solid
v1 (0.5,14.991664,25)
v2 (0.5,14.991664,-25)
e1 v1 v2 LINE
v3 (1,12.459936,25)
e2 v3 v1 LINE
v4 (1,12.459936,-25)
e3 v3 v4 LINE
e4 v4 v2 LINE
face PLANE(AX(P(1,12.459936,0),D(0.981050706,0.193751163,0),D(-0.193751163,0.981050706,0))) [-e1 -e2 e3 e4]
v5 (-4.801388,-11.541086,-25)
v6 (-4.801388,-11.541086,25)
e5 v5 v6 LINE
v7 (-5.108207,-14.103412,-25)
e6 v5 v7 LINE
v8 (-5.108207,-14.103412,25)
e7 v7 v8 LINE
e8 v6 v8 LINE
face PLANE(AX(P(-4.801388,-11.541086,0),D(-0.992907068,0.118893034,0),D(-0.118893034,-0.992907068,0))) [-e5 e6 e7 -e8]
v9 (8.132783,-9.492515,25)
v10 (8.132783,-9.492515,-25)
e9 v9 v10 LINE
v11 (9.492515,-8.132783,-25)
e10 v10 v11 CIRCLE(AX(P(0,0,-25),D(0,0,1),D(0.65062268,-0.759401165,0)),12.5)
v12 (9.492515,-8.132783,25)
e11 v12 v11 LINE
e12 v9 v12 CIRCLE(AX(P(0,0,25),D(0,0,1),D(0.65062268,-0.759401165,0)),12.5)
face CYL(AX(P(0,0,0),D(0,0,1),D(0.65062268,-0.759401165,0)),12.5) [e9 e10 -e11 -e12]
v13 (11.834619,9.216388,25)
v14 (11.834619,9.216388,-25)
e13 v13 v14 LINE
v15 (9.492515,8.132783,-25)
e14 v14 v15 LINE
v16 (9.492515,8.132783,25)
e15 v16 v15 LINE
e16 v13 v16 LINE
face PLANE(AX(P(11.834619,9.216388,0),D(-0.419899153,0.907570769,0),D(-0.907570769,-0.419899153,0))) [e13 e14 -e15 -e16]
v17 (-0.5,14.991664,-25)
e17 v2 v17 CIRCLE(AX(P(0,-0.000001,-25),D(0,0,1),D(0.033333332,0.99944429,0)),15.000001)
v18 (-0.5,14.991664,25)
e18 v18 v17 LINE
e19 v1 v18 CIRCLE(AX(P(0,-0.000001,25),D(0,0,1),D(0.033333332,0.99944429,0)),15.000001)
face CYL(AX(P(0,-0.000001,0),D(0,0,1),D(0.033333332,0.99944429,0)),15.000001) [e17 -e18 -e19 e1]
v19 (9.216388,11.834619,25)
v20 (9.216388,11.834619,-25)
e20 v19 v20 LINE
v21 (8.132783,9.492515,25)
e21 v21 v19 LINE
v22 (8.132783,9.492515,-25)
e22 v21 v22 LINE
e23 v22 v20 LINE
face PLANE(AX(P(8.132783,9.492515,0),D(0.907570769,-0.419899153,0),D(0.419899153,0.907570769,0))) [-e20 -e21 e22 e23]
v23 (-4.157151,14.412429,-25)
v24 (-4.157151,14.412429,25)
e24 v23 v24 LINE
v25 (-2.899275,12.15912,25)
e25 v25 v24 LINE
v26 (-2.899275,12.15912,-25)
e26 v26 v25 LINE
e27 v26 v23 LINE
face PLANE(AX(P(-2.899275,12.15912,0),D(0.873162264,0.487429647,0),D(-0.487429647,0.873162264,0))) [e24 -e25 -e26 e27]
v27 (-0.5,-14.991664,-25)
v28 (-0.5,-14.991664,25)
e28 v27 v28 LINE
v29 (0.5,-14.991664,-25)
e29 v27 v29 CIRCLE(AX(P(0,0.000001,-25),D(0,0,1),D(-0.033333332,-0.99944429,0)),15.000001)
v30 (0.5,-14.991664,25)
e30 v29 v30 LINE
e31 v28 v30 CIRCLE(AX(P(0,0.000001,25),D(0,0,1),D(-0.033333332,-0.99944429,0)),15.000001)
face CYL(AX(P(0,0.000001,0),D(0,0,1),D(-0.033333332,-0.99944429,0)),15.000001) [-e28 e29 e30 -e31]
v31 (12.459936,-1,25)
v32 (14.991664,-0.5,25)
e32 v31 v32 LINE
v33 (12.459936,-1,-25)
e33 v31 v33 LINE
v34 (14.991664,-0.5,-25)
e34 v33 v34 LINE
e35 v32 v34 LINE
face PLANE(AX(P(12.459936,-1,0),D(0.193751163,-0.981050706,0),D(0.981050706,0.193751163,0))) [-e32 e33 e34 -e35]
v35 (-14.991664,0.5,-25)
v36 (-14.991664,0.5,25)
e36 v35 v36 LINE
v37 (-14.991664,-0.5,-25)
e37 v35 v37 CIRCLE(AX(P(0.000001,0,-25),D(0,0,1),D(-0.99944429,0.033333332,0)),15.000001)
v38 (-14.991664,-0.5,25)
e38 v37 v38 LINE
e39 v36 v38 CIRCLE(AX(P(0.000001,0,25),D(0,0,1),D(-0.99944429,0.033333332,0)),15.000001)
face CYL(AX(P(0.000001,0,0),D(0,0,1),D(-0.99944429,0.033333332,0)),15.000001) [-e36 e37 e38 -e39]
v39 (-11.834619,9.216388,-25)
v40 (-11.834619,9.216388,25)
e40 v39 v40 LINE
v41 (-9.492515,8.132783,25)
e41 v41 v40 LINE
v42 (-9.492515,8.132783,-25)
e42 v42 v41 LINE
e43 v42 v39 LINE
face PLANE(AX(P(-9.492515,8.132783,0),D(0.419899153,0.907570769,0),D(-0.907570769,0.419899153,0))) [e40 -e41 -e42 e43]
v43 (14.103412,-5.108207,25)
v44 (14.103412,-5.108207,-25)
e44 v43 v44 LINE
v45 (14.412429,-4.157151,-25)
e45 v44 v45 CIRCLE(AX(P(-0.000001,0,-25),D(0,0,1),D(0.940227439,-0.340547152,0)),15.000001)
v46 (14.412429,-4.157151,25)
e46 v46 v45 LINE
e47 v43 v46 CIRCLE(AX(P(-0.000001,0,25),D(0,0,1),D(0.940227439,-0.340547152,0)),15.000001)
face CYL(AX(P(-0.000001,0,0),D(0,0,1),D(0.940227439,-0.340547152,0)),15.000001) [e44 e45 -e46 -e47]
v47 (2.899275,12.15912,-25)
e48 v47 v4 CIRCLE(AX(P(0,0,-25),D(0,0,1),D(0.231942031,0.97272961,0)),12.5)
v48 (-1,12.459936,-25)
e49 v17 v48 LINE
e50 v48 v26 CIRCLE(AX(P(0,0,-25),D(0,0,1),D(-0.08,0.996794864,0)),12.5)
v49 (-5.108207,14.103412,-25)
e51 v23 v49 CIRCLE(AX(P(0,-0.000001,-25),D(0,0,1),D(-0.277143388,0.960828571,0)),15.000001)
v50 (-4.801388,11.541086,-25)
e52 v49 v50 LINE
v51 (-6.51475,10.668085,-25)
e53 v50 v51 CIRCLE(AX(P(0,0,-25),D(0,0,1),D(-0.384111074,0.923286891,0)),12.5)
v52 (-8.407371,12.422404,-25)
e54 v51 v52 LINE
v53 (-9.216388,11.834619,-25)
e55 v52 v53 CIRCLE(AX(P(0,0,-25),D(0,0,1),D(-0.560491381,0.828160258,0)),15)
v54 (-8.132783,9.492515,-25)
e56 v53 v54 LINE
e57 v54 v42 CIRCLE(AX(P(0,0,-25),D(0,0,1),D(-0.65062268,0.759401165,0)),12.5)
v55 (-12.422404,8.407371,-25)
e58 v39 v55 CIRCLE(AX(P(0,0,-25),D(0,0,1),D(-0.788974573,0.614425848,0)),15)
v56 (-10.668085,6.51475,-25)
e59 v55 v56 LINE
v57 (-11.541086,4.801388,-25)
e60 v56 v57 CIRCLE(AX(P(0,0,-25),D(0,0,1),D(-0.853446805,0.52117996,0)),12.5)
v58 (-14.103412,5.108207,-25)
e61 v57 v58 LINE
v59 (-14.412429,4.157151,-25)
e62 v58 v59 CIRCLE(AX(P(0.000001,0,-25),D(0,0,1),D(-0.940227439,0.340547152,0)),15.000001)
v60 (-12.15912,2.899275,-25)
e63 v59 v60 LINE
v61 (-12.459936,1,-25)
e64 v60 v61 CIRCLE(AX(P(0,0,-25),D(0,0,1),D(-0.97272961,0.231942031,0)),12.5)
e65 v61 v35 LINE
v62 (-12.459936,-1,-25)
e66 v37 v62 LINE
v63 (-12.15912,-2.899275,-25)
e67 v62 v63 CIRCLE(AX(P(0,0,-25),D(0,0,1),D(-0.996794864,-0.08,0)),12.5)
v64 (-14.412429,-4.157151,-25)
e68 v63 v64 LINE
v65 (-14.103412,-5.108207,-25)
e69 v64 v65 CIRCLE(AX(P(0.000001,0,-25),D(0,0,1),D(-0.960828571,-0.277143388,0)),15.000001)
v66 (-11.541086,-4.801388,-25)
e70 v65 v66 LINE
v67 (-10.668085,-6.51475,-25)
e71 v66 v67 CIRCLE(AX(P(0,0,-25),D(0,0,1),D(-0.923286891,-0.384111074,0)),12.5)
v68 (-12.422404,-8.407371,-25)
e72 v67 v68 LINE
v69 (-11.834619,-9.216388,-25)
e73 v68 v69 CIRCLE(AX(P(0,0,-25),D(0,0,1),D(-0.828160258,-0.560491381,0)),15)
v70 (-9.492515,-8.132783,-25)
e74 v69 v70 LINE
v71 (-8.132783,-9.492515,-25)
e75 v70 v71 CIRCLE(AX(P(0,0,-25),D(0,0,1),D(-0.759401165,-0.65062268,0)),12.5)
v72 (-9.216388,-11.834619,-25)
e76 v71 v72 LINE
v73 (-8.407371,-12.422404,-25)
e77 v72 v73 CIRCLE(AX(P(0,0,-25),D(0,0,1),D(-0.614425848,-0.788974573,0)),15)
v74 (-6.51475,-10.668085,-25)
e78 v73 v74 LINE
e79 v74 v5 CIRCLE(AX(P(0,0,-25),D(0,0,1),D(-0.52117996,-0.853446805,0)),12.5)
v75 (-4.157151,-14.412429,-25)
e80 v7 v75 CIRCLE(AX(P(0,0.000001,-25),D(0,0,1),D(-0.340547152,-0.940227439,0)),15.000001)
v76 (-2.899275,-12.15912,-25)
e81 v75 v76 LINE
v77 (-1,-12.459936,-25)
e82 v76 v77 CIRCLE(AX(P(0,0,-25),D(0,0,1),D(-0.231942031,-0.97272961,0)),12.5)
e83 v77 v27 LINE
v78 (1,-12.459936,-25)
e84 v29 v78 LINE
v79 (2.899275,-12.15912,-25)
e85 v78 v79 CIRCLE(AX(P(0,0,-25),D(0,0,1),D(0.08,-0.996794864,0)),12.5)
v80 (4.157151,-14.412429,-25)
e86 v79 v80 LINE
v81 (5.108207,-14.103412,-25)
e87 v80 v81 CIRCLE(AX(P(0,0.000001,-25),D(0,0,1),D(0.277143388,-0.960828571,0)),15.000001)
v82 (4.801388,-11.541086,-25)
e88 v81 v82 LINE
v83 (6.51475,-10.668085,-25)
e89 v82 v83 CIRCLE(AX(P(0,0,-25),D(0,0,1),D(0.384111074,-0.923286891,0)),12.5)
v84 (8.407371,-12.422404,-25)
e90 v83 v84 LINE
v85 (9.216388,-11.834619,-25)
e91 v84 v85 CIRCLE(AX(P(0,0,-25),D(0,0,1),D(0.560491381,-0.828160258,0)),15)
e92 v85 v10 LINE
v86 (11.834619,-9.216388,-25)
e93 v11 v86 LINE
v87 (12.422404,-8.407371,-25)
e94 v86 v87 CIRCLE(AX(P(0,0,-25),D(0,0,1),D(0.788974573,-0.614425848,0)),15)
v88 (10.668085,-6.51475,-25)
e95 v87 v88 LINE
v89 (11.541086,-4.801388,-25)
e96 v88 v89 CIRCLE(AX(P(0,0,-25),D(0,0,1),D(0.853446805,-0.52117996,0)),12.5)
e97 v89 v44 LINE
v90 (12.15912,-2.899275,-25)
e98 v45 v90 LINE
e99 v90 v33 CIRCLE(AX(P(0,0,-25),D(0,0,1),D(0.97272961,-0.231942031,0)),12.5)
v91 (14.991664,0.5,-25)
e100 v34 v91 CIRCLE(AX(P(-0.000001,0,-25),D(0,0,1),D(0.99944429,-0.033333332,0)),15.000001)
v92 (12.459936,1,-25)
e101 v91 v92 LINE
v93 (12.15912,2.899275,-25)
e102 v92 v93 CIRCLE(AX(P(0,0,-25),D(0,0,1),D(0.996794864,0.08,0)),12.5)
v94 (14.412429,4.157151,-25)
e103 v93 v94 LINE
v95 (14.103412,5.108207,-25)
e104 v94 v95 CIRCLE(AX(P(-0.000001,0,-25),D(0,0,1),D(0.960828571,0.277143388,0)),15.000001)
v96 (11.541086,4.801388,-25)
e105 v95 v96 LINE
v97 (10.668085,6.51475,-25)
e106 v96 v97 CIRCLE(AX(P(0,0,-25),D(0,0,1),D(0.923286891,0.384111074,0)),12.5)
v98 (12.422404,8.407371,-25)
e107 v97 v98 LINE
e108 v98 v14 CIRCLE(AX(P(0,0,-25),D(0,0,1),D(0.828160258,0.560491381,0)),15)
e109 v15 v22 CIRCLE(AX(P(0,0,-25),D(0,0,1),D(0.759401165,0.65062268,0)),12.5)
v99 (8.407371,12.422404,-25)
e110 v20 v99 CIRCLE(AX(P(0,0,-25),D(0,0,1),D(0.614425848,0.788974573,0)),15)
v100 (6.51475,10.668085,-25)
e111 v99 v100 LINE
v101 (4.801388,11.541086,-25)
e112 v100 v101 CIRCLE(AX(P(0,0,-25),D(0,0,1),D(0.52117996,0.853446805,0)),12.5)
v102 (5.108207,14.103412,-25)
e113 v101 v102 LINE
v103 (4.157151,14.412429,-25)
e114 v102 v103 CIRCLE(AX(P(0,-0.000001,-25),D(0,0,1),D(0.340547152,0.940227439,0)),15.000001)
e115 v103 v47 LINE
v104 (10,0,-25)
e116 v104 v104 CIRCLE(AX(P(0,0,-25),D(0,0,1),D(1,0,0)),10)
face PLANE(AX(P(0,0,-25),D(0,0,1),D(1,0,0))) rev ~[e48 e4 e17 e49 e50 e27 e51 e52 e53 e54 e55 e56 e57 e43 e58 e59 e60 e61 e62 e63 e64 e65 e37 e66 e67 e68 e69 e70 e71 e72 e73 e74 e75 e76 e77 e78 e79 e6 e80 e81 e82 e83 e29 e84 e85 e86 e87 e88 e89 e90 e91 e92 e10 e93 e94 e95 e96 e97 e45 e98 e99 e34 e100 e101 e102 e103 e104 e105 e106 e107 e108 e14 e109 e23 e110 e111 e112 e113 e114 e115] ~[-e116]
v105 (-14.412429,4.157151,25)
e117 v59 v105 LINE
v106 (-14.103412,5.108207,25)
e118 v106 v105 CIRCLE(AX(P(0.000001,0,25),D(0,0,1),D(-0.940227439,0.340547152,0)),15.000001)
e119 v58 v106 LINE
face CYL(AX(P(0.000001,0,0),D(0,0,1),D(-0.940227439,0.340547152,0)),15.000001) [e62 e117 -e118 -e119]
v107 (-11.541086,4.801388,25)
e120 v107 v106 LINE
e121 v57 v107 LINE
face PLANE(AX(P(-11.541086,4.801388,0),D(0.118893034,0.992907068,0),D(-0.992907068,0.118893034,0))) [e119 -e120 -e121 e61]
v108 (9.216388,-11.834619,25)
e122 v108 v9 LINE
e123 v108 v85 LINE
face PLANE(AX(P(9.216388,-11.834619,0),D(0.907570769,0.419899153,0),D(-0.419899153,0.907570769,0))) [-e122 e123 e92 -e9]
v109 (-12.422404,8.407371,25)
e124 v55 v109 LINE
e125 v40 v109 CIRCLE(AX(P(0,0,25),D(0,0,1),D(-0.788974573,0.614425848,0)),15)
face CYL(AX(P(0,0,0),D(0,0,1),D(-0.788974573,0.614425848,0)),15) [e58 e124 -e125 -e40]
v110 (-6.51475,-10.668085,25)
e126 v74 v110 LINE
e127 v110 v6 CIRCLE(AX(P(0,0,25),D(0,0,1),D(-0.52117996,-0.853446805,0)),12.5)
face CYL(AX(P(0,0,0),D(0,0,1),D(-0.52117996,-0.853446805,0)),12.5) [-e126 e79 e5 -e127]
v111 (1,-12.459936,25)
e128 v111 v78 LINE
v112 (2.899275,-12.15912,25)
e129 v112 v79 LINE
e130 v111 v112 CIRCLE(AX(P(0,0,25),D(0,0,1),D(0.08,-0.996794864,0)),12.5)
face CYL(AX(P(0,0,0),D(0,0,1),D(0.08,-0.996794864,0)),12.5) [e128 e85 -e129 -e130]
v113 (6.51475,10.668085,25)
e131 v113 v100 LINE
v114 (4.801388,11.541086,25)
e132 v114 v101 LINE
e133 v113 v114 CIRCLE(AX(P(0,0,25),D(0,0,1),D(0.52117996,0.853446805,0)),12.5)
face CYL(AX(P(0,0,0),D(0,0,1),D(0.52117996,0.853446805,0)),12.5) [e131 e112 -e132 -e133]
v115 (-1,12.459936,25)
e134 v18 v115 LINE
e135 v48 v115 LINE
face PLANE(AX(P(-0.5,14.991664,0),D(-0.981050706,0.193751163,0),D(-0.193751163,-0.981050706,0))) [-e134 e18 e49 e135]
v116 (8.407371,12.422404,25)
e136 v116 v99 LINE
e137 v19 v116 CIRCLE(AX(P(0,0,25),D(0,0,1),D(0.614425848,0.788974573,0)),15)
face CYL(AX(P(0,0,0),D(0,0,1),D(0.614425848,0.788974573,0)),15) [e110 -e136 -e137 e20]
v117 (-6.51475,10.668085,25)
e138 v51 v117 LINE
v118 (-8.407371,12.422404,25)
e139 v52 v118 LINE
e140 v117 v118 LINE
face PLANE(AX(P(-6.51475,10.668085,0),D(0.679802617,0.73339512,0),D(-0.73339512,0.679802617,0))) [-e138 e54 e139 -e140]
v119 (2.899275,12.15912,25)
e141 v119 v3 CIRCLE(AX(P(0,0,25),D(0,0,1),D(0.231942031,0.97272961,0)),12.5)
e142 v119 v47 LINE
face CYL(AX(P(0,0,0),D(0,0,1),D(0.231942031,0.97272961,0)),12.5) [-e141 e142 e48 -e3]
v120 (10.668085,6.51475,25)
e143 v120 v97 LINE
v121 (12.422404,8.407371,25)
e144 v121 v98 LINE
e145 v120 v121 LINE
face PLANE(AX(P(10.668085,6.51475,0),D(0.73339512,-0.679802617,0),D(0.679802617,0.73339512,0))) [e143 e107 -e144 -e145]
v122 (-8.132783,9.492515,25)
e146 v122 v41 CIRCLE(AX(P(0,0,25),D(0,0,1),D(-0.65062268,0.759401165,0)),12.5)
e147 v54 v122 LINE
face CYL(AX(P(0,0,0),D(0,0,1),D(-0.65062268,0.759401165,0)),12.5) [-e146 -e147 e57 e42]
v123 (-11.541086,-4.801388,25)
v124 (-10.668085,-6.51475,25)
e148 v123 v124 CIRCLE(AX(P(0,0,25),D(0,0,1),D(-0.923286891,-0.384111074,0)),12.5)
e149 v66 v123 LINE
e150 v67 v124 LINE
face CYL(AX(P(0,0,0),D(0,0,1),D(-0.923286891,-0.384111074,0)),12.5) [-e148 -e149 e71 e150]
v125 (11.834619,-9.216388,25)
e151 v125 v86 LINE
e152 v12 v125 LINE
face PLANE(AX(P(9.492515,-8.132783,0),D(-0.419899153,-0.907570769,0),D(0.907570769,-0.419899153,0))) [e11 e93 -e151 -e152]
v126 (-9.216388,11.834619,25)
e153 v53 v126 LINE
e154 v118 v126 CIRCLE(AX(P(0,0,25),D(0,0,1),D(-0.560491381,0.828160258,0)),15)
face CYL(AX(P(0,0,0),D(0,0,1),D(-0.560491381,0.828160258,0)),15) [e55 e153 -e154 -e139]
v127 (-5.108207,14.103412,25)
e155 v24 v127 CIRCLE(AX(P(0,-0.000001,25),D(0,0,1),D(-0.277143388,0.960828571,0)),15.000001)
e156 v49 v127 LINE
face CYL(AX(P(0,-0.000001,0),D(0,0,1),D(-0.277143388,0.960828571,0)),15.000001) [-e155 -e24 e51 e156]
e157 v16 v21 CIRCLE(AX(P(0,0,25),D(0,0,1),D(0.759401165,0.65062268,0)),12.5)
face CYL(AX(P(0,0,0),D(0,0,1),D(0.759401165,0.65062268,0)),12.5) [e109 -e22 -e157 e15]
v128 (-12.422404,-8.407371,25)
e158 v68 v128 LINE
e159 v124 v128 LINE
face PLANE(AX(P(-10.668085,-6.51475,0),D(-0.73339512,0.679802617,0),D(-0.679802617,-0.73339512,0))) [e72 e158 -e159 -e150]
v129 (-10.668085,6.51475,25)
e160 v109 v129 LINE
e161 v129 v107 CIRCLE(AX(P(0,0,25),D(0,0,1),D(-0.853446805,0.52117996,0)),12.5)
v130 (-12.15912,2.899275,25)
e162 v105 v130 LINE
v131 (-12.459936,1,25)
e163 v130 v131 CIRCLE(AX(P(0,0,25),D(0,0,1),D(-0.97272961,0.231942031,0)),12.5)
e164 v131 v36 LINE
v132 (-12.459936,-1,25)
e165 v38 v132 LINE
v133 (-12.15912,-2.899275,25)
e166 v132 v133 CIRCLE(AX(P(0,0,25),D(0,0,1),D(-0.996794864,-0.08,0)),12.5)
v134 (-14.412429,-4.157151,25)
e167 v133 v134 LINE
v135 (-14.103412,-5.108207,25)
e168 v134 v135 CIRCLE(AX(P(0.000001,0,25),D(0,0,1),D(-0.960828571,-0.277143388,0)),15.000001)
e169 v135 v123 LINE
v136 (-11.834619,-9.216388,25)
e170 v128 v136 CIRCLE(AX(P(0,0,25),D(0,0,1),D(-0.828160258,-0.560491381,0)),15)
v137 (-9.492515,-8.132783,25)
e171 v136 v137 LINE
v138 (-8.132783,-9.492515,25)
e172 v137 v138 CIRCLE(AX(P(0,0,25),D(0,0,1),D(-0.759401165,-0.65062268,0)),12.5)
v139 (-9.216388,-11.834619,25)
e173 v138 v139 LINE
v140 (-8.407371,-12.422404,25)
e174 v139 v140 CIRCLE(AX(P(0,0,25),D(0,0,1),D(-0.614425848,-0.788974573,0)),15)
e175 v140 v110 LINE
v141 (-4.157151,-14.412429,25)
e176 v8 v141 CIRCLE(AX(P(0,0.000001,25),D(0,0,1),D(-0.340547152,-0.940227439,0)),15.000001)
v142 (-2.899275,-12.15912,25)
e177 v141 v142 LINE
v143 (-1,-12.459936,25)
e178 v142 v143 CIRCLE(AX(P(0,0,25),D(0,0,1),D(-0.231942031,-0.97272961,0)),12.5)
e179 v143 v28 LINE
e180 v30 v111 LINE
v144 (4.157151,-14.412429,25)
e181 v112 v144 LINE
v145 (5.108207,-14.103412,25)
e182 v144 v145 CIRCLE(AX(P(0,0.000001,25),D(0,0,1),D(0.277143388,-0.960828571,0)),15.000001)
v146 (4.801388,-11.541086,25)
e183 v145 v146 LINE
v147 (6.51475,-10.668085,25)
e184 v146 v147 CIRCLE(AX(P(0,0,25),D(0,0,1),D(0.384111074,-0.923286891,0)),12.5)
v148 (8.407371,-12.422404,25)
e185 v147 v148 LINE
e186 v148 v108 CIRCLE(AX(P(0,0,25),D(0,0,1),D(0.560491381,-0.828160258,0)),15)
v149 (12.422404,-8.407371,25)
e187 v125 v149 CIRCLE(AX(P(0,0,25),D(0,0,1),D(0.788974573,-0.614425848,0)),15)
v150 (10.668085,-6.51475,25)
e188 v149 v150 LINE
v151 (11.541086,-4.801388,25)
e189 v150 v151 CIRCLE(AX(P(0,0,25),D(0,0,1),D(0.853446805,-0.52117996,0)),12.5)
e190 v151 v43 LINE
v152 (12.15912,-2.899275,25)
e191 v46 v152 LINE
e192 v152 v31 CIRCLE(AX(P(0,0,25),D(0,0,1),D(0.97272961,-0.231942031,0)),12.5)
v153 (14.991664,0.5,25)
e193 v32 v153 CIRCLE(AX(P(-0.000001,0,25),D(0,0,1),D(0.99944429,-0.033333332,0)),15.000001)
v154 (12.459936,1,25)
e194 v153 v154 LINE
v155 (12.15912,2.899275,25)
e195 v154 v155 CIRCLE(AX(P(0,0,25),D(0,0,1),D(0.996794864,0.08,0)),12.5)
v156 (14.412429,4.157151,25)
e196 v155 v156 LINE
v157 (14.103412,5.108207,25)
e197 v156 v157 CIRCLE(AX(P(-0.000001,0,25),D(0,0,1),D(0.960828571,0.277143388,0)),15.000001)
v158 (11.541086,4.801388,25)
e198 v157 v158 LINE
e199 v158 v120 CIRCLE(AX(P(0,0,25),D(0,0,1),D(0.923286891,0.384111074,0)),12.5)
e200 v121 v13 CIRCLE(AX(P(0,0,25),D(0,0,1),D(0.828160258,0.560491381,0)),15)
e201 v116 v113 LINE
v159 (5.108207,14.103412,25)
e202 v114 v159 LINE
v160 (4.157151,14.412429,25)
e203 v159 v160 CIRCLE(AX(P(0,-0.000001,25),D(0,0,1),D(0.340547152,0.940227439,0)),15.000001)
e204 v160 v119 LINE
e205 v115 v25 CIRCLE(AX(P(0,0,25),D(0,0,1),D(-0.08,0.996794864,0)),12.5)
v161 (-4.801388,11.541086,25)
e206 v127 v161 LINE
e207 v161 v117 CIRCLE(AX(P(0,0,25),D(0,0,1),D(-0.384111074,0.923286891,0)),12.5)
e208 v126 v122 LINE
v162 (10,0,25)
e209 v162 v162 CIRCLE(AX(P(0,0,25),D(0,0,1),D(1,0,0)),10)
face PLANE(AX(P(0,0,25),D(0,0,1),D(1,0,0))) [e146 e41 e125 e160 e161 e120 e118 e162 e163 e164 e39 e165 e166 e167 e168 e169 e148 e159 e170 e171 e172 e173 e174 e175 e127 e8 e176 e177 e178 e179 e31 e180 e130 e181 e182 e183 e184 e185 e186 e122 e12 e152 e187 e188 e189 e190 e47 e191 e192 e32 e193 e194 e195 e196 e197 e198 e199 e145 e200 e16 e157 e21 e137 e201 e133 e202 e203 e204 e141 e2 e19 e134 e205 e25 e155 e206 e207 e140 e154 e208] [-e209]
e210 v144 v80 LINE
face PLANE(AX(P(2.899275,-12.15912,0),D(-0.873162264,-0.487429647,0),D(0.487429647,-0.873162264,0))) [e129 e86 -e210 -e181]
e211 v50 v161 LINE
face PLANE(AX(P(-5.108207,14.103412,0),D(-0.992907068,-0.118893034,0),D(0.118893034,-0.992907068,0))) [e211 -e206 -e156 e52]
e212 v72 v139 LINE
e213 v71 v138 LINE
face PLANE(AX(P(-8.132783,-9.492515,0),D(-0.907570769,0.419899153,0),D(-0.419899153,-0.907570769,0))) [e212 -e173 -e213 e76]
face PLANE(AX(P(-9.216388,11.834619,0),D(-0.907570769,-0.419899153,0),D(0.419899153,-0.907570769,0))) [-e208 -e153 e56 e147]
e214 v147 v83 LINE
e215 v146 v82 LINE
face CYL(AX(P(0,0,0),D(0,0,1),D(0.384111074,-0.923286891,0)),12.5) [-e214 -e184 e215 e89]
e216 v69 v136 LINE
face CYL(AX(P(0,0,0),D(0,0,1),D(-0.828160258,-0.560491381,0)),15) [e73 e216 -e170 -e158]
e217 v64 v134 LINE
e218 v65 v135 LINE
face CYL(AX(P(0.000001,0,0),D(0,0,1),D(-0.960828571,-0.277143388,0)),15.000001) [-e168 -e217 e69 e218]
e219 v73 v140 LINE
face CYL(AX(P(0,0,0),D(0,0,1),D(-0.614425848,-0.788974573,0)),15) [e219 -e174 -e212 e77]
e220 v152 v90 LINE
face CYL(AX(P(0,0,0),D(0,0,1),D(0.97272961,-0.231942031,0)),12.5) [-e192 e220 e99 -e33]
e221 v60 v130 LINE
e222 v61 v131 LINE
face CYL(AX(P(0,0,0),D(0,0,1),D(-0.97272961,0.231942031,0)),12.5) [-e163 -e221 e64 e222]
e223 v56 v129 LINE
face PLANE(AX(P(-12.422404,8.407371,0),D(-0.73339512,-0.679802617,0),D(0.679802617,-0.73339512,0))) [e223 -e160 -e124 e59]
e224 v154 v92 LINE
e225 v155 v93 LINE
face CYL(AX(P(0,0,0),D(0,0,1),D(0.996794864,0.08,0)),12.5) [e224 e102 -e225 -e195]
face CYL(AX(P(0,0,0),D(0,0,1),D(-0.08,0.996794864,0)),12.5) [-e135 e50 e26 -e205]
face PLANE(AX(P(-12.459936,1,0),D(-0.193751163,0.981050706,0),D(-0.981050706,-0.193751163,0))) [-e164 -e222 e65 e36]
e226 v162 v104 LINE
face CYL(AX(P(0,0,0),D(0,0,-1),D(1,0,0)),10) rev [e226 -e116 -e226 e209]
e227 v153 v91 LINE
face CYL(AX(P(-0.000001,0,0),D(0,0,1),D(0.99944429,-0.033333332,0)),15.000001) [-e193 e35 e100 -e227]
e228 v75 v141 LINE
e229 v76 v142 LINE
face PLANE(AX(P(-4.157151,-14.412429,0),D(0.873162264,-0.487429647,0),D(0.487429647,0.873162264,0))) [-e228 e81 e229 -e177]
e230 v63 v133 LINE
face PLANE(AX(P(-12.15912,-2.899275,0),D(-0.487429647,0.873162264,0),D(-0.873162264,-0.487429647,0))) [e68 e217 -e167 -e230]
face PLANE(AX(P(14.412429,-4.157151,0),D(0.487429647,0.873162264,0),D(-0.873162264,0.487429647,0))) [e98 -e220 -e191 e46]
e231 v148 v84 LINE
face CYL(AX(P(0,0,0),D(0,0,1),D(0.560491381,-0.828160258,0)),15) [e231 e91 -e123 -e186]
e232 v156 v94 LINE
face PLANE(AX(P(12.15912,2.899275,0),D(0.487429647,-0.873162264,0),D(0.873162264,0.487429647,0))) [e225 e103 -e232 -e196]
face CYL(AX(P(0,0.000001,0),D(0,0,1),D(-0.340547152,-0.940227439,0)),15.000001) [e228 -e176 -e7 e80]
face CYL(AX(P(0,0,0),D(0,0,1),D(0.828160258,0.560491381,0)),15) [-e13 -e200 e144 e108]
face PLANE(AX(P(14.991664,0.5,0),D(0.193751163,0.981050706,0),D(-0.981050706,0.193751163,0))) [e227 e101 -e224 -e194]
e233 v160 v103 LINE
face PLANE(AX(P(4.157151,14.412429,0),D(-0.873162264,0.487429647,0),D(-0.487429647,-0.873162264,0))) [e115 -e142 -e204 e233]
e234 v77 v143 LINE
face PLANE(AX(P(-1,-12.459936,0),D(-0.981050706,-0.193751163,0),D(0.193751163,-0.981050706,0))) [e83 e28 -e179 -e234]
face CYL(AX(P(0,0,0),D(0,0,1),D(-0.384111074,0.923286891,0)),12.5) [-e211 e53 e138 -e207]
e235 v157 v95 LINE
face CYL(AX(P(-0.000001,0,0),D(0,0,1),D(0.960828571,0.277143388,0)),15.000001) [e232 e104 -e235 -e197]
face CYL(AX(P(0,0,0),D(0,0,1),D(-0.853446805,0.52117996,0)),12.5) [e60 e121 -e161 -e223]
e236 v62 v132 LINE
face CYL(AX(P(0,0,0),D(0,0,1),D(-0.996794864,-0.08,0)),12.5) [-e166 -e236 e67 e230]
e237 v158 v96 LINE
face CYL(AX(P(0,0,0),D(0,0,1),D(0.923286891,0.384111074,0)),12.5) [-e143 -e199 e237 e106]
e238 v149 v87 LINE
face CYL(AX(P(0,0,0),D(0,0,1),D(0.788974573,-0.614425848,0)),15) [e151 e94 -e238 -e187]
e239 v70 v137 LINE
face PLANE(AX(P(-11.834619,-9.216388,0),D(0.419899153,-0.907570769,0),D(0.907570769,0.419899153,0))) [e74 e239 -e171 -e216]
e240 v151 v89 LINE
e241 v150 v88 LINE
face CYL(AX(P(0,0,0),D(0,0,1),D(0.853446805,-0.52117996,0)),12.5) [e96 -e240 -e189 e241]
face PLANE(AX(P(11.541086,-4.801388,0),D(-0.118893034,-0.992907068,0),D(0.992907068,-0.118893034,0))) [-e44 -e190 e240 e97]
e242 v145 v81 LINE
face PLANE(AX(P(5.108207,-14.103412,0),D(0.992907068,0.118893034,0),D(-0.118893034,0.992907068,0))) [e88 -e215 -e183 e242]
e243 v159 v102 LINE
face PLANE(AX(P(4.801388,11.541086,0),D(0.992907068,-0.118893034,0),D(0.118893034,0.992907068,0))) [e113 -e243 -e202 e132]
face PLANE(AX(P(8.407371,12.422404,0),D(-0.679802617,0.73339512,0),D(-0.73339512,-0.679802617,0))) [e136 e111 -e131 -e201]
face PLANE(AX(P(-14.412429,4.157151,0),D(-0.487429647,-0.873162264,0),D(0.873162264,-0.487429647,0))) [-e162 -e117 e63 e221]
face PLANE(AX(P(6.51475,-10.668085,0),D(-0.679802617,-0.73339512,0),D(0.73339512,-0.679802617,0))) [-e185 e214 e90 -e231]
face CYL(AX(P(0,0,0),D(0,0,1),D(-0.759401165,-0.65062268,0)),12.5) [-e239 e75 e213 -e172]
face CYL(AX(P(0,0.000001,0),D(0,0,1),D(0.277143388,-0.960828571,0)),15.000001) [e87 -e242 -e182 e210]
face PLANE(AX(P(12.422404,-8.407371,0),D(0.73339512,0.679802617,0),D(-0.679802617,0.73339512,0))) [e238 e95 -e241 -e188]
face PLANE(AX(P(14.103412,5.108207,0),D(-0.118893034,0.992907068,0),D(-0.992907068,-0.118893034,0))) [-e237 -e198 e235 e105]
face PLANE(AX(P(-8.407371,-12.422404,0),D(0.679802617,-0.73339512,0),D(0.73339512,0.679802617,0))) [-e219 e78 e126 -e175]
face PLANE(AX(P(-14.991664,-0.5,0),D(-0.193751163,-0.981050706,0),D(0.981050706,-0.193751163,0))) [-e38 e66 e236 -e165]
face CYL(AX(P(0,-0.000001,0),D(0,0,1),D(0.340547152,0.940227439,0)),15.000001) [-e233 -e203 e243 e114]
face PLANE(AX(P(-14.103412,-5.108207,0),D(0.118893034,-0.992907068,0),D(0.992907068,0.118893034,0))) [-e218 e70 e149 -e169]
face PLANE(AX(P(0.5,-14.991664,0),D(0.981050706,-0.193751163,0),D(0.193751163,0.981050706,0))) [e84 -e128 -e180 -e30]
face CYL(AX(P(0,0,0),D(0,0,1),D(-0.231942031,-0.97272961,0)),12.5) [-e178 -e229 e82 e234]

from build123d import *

# Parameters (mm, degrees)
SKETCH1_R           = 10
BOSS_EXTRUDE1_DEPTH = 25


with BuildPart() as part:
    # Sketch1 → Boss-Extrude1 (new, symmetric)
    with BuildSketch(Plane.XY):
        with BuildLine():
            Line((-0.5, 14.991664351), (-1, 12.459935794))
            ThreePointArc((-1, 12.459935794), (-1.955430813, 12.346104257), (-2.899275393, 12.159120124))
            Line((-2.899275393, 12.159120124), (-4.1571508, 14.412428568))
            ThreePointArc((-4.1571508, 14.412428568), (-4.635254916, 14.265847744), (-5.108207316, 14.103411574))
            Line((-5.108207316, 14.103411574), (-4.801388426, 11.541086135))
            ThreePointArc((-4.801388426, 11.541086135), (-5.674881247, 11.137581552), (-6.51474951, 10.668085059))
            Line((-6.51474951, 10.668085059), (-8.407370715, 12.42240386))
            ThreePointArc((-8.407370715, 12.42240386), (-8.816778784, 12.135254916), (-9.21638771, 11.834618607))
            Line((-9.21638771, 11.834618607), (-8.132783499, 9.492514554))
            ThreePointArc((-8.132783499, 9.492514554), (-8.838834765, 8.838834765), (-9.492514554, 8.132783499))
            Line((-9.492514554, 8.132783499), (-11.834618607, 9.21638771))
            ThreePointArc((-11.834618607, 9.21638771), (-12.135254916, 8.816778784), (-12.42240386, 8.407370715))
            Line((-12.42240386, 8.407370715), (-10.668085059, 6.51474951))
            ThreePointArc((-10.668085059, 6.51474951), (-11.137581552, 5.674881247), (-11.541086135, 4.801388426))
            Line((-11.541086135, 4.801388426), (-14.103411574, 5.108207316))
            ThreePointArc((-14.103411574, 5.108207316), (-14.265847744, 4.635254916), (-14.412428568, 4.1571508))
            Line((-14.412428568, 4.1571508), (-12.159120124, 2.899275393))
            ThreePointArc((-12.159120124, 2.899275393), (-12.346104257, 1.955430813), (-12.459935794, 1))
            Line((-12.459935794, 1), (-14.991664351, 0.5))
            ThreePointArc((-14.991664351, 0.5), (-15, 0), (-14.991664351, -0.5))
            Line((-14.991664351, -0.5), (-12.459935794, -1))
            ThreePointArc((-12.459935794, -1), (-12.346104257, -1.955430813), (-12.159120124, -2.899275393))
            Line((-12.159120124, -2.899275393), (-14.412428568, -4.1571508))
            ThreePointArc((-14.412428568, -4.1571508), (-14.265847744, -4.635254916), (-14.103411574, -5.108207316))
            Line((-14.103411574, -5.108207316), (-11.541086135, -4.801388426))
            ThreePointArc((-11.541086135, -4.801388426), (-11.137581552, -5.674881247), (-10.668085059, -6.51474951))
            Line((-10.668085059, -6.51474951), (-12.42240386, -8.407370715))
            ThreePointArc((-12.42240386, -8.407370715), (-12.135254916, -8.816778784), (-11.834618607, -9.21638771))
            Line((-11.834618607, -9.21638771), (-9.492514554, -8.132783499))
            ThreePointArc((-9.492514554, -8.132783499), (-8.838834765, -8.838834765), (-8.132783499, -9.492514554))
            Line((-8.132783499, -9.492514554), (-9.21638771, -11.834618607))
            ThreePointArc((-9.21638771, -11.834618607), (-8.816778784, -12.135254916), (-8.407370715, -12.42240386))
            Line((-8.407370715, -12.42240386), (-6.51474951, -10.668085059))
            ThreePointArc((-6.51474951, -10.668085059), (-5.674881247, -11.137581552), (-4.801388426, -11.541086135))
            Line((-4.801388426, -11.541086135), (-5.108207316, -14.103411574))
            ThreePointArc((-5.108207316, -14.103411574), (-4.635254916, -14.265847744), (-4.1571508, -14.412428568))
            Line((-4.1571508, -14.412428568), (-2.899275393, -12.159120124))
            ThreePointArc((-2.899275393, -12.159120124), (-1.955430813, -12.346104257), (-1, -12.459935794))
            Line((-1, -12.459935794), (-0.5, -14.991664351))
            ThreePointArc((-0.5, -14.991664351), (0, -15), (0.5, -14.991664351))
            Line((0.5, -14.991664351), (1, -12.459935794))
            ThreePointArc((1, -12.459935794), (1.955430813, -12.346104257), (2.899275393, -12.159120124))
            Line((2.899275393, -12.159120124), (4.1571508, -14.412428568))
            ThreePointArc((4.1571508, -14.412428568), (4.635254916, -14.265847744), (5.108207316, -14.103411574))
            Line((5.108207316, -14.103411574), (4.801388426, -11.541086135))
            ThreePointArc((4.801388426, -11.541086135), (5.674881247, -11.137581552), (6.51474951, -10.668085059))
            Line((6.51474951, -10.668085059), (8.407370715, -12.42240386))
            ThreePointArc((8.407370715, -12.42240386), (8.816778784, -12.135254916), (9.21638771, -11.834618607))
            Line((9.21638771, -11.834618607), (8.132783499, -9.492514554))
            ThreePointArc((8.132783499, -9.492514554), (8.838834765, -8.838834765), (9.492514554, -8.132783499))
            Line((9.492514554, -8.132783499), (11.834618607, -9.21638771))
            ThreePointArc((11.834618607, -9.21638771), (12.135254916, -8.816778784), (12.42240386, -8.407370715))
            Line((12.42240386, -8.407370715), (10.668085059, -6.51474951))
            ThreePointArc((10.668085059, -6.51474951), (11.137581552, -5.674881247), (11.541086135, -4.801388426))
            Line((11.541086135, -4.801388426), (14.103411574, -5.108207316))
            ThreePointArc((14.103411574, -5.108207316), (14.265847744, -4.635254916), (14.412428568, -4.1571508))
            Line((14.412428568, -4.1571508), (12.159120124, -2.899275393))
            ThreePointArc((12.159120124, -2.899275393), (12.346104257, -1.955430813), (12.459935794, -1))
            Line((12.459935794, -1), (14.991664351, -0.5))
            ThreePointArc((14.991664351, -0.5), (15, 0), (14.991664351, 0.5))
            Line((14.991664351, 0.5), (12.459935794, 1))
            ThreePointArc((12.459935794, 1), (12.346104257, 1.955430813), (12.159120124, 2.899275393))
            Line((12.159120124, 2.899275393), (14.412428568, 4.1571508))
            ThreePointArc((14.412428568, 4.1571508), (14.265847744, 4.635254916), (14.103411574, 5.108207316))
            Line((14.103411574, 5.108207316), (11.541086135, 4.801388426))
            ThreePointArc((11.541086135, 4.801388426), (11.137581552, 5.674881247), (10.668085059, 6.51474951))
            Line((10.668085059, 6.51474951), (12.42240386, 8.407370715))
            ThreePointArc((12.42240386, 8.407370715), (12.135254916, 8.816778784), (11.834618607, 9.21638771))
            Line((11.834618607, 9.21638771), (9.492514554, 8.132783499))
            ThreePointArc((9.492514554, 8.132783499), (8.838834765, 8.838834765), (8.132783499, 9.492514554))
            Line((8.132783499, 9.492514554), (9.21638771, 11.834618607))
            ThreePointArc((9.21638771, 11.834618607), (8.816778784, 12.135254916), (8.407370715, 12.42240386))
            Line((8.407370715, 12.42240386), (6.51474951, 10.668085059))
            ThreePointArc((6.51474951, 10.668085059), (5.674881247, 11.137581552), (4.801388426, 11.541086135))
            Line((4.801388426, 11.541086135), (5.108207316, 14.103411574))
            ThreePointArc((5.108207316, 14.103411574), (4.635254916, 14.265847744), (4.1571508, 14.412428568))
            Line((4.1571508, 14.412428568), (2.899275393, 12.159120124))
            ThreePointArc((2.899275393, 12.159120124), (1.955430813, 12.346104257), (1, 12.459935794))
            Line((1, 12.459935794), (0.5, 14.991664351))
            ThreePointArc((0.5, 14.991664351), (0, 15), (-0.5, 14.991664351))
        make_face()
        Circle(SKETCH1_R, mode=Mode.SUBTRACT)
    extrude(amount=BOSS_EXTRUDE1_DEPTH, both=True)


solid = part.part
